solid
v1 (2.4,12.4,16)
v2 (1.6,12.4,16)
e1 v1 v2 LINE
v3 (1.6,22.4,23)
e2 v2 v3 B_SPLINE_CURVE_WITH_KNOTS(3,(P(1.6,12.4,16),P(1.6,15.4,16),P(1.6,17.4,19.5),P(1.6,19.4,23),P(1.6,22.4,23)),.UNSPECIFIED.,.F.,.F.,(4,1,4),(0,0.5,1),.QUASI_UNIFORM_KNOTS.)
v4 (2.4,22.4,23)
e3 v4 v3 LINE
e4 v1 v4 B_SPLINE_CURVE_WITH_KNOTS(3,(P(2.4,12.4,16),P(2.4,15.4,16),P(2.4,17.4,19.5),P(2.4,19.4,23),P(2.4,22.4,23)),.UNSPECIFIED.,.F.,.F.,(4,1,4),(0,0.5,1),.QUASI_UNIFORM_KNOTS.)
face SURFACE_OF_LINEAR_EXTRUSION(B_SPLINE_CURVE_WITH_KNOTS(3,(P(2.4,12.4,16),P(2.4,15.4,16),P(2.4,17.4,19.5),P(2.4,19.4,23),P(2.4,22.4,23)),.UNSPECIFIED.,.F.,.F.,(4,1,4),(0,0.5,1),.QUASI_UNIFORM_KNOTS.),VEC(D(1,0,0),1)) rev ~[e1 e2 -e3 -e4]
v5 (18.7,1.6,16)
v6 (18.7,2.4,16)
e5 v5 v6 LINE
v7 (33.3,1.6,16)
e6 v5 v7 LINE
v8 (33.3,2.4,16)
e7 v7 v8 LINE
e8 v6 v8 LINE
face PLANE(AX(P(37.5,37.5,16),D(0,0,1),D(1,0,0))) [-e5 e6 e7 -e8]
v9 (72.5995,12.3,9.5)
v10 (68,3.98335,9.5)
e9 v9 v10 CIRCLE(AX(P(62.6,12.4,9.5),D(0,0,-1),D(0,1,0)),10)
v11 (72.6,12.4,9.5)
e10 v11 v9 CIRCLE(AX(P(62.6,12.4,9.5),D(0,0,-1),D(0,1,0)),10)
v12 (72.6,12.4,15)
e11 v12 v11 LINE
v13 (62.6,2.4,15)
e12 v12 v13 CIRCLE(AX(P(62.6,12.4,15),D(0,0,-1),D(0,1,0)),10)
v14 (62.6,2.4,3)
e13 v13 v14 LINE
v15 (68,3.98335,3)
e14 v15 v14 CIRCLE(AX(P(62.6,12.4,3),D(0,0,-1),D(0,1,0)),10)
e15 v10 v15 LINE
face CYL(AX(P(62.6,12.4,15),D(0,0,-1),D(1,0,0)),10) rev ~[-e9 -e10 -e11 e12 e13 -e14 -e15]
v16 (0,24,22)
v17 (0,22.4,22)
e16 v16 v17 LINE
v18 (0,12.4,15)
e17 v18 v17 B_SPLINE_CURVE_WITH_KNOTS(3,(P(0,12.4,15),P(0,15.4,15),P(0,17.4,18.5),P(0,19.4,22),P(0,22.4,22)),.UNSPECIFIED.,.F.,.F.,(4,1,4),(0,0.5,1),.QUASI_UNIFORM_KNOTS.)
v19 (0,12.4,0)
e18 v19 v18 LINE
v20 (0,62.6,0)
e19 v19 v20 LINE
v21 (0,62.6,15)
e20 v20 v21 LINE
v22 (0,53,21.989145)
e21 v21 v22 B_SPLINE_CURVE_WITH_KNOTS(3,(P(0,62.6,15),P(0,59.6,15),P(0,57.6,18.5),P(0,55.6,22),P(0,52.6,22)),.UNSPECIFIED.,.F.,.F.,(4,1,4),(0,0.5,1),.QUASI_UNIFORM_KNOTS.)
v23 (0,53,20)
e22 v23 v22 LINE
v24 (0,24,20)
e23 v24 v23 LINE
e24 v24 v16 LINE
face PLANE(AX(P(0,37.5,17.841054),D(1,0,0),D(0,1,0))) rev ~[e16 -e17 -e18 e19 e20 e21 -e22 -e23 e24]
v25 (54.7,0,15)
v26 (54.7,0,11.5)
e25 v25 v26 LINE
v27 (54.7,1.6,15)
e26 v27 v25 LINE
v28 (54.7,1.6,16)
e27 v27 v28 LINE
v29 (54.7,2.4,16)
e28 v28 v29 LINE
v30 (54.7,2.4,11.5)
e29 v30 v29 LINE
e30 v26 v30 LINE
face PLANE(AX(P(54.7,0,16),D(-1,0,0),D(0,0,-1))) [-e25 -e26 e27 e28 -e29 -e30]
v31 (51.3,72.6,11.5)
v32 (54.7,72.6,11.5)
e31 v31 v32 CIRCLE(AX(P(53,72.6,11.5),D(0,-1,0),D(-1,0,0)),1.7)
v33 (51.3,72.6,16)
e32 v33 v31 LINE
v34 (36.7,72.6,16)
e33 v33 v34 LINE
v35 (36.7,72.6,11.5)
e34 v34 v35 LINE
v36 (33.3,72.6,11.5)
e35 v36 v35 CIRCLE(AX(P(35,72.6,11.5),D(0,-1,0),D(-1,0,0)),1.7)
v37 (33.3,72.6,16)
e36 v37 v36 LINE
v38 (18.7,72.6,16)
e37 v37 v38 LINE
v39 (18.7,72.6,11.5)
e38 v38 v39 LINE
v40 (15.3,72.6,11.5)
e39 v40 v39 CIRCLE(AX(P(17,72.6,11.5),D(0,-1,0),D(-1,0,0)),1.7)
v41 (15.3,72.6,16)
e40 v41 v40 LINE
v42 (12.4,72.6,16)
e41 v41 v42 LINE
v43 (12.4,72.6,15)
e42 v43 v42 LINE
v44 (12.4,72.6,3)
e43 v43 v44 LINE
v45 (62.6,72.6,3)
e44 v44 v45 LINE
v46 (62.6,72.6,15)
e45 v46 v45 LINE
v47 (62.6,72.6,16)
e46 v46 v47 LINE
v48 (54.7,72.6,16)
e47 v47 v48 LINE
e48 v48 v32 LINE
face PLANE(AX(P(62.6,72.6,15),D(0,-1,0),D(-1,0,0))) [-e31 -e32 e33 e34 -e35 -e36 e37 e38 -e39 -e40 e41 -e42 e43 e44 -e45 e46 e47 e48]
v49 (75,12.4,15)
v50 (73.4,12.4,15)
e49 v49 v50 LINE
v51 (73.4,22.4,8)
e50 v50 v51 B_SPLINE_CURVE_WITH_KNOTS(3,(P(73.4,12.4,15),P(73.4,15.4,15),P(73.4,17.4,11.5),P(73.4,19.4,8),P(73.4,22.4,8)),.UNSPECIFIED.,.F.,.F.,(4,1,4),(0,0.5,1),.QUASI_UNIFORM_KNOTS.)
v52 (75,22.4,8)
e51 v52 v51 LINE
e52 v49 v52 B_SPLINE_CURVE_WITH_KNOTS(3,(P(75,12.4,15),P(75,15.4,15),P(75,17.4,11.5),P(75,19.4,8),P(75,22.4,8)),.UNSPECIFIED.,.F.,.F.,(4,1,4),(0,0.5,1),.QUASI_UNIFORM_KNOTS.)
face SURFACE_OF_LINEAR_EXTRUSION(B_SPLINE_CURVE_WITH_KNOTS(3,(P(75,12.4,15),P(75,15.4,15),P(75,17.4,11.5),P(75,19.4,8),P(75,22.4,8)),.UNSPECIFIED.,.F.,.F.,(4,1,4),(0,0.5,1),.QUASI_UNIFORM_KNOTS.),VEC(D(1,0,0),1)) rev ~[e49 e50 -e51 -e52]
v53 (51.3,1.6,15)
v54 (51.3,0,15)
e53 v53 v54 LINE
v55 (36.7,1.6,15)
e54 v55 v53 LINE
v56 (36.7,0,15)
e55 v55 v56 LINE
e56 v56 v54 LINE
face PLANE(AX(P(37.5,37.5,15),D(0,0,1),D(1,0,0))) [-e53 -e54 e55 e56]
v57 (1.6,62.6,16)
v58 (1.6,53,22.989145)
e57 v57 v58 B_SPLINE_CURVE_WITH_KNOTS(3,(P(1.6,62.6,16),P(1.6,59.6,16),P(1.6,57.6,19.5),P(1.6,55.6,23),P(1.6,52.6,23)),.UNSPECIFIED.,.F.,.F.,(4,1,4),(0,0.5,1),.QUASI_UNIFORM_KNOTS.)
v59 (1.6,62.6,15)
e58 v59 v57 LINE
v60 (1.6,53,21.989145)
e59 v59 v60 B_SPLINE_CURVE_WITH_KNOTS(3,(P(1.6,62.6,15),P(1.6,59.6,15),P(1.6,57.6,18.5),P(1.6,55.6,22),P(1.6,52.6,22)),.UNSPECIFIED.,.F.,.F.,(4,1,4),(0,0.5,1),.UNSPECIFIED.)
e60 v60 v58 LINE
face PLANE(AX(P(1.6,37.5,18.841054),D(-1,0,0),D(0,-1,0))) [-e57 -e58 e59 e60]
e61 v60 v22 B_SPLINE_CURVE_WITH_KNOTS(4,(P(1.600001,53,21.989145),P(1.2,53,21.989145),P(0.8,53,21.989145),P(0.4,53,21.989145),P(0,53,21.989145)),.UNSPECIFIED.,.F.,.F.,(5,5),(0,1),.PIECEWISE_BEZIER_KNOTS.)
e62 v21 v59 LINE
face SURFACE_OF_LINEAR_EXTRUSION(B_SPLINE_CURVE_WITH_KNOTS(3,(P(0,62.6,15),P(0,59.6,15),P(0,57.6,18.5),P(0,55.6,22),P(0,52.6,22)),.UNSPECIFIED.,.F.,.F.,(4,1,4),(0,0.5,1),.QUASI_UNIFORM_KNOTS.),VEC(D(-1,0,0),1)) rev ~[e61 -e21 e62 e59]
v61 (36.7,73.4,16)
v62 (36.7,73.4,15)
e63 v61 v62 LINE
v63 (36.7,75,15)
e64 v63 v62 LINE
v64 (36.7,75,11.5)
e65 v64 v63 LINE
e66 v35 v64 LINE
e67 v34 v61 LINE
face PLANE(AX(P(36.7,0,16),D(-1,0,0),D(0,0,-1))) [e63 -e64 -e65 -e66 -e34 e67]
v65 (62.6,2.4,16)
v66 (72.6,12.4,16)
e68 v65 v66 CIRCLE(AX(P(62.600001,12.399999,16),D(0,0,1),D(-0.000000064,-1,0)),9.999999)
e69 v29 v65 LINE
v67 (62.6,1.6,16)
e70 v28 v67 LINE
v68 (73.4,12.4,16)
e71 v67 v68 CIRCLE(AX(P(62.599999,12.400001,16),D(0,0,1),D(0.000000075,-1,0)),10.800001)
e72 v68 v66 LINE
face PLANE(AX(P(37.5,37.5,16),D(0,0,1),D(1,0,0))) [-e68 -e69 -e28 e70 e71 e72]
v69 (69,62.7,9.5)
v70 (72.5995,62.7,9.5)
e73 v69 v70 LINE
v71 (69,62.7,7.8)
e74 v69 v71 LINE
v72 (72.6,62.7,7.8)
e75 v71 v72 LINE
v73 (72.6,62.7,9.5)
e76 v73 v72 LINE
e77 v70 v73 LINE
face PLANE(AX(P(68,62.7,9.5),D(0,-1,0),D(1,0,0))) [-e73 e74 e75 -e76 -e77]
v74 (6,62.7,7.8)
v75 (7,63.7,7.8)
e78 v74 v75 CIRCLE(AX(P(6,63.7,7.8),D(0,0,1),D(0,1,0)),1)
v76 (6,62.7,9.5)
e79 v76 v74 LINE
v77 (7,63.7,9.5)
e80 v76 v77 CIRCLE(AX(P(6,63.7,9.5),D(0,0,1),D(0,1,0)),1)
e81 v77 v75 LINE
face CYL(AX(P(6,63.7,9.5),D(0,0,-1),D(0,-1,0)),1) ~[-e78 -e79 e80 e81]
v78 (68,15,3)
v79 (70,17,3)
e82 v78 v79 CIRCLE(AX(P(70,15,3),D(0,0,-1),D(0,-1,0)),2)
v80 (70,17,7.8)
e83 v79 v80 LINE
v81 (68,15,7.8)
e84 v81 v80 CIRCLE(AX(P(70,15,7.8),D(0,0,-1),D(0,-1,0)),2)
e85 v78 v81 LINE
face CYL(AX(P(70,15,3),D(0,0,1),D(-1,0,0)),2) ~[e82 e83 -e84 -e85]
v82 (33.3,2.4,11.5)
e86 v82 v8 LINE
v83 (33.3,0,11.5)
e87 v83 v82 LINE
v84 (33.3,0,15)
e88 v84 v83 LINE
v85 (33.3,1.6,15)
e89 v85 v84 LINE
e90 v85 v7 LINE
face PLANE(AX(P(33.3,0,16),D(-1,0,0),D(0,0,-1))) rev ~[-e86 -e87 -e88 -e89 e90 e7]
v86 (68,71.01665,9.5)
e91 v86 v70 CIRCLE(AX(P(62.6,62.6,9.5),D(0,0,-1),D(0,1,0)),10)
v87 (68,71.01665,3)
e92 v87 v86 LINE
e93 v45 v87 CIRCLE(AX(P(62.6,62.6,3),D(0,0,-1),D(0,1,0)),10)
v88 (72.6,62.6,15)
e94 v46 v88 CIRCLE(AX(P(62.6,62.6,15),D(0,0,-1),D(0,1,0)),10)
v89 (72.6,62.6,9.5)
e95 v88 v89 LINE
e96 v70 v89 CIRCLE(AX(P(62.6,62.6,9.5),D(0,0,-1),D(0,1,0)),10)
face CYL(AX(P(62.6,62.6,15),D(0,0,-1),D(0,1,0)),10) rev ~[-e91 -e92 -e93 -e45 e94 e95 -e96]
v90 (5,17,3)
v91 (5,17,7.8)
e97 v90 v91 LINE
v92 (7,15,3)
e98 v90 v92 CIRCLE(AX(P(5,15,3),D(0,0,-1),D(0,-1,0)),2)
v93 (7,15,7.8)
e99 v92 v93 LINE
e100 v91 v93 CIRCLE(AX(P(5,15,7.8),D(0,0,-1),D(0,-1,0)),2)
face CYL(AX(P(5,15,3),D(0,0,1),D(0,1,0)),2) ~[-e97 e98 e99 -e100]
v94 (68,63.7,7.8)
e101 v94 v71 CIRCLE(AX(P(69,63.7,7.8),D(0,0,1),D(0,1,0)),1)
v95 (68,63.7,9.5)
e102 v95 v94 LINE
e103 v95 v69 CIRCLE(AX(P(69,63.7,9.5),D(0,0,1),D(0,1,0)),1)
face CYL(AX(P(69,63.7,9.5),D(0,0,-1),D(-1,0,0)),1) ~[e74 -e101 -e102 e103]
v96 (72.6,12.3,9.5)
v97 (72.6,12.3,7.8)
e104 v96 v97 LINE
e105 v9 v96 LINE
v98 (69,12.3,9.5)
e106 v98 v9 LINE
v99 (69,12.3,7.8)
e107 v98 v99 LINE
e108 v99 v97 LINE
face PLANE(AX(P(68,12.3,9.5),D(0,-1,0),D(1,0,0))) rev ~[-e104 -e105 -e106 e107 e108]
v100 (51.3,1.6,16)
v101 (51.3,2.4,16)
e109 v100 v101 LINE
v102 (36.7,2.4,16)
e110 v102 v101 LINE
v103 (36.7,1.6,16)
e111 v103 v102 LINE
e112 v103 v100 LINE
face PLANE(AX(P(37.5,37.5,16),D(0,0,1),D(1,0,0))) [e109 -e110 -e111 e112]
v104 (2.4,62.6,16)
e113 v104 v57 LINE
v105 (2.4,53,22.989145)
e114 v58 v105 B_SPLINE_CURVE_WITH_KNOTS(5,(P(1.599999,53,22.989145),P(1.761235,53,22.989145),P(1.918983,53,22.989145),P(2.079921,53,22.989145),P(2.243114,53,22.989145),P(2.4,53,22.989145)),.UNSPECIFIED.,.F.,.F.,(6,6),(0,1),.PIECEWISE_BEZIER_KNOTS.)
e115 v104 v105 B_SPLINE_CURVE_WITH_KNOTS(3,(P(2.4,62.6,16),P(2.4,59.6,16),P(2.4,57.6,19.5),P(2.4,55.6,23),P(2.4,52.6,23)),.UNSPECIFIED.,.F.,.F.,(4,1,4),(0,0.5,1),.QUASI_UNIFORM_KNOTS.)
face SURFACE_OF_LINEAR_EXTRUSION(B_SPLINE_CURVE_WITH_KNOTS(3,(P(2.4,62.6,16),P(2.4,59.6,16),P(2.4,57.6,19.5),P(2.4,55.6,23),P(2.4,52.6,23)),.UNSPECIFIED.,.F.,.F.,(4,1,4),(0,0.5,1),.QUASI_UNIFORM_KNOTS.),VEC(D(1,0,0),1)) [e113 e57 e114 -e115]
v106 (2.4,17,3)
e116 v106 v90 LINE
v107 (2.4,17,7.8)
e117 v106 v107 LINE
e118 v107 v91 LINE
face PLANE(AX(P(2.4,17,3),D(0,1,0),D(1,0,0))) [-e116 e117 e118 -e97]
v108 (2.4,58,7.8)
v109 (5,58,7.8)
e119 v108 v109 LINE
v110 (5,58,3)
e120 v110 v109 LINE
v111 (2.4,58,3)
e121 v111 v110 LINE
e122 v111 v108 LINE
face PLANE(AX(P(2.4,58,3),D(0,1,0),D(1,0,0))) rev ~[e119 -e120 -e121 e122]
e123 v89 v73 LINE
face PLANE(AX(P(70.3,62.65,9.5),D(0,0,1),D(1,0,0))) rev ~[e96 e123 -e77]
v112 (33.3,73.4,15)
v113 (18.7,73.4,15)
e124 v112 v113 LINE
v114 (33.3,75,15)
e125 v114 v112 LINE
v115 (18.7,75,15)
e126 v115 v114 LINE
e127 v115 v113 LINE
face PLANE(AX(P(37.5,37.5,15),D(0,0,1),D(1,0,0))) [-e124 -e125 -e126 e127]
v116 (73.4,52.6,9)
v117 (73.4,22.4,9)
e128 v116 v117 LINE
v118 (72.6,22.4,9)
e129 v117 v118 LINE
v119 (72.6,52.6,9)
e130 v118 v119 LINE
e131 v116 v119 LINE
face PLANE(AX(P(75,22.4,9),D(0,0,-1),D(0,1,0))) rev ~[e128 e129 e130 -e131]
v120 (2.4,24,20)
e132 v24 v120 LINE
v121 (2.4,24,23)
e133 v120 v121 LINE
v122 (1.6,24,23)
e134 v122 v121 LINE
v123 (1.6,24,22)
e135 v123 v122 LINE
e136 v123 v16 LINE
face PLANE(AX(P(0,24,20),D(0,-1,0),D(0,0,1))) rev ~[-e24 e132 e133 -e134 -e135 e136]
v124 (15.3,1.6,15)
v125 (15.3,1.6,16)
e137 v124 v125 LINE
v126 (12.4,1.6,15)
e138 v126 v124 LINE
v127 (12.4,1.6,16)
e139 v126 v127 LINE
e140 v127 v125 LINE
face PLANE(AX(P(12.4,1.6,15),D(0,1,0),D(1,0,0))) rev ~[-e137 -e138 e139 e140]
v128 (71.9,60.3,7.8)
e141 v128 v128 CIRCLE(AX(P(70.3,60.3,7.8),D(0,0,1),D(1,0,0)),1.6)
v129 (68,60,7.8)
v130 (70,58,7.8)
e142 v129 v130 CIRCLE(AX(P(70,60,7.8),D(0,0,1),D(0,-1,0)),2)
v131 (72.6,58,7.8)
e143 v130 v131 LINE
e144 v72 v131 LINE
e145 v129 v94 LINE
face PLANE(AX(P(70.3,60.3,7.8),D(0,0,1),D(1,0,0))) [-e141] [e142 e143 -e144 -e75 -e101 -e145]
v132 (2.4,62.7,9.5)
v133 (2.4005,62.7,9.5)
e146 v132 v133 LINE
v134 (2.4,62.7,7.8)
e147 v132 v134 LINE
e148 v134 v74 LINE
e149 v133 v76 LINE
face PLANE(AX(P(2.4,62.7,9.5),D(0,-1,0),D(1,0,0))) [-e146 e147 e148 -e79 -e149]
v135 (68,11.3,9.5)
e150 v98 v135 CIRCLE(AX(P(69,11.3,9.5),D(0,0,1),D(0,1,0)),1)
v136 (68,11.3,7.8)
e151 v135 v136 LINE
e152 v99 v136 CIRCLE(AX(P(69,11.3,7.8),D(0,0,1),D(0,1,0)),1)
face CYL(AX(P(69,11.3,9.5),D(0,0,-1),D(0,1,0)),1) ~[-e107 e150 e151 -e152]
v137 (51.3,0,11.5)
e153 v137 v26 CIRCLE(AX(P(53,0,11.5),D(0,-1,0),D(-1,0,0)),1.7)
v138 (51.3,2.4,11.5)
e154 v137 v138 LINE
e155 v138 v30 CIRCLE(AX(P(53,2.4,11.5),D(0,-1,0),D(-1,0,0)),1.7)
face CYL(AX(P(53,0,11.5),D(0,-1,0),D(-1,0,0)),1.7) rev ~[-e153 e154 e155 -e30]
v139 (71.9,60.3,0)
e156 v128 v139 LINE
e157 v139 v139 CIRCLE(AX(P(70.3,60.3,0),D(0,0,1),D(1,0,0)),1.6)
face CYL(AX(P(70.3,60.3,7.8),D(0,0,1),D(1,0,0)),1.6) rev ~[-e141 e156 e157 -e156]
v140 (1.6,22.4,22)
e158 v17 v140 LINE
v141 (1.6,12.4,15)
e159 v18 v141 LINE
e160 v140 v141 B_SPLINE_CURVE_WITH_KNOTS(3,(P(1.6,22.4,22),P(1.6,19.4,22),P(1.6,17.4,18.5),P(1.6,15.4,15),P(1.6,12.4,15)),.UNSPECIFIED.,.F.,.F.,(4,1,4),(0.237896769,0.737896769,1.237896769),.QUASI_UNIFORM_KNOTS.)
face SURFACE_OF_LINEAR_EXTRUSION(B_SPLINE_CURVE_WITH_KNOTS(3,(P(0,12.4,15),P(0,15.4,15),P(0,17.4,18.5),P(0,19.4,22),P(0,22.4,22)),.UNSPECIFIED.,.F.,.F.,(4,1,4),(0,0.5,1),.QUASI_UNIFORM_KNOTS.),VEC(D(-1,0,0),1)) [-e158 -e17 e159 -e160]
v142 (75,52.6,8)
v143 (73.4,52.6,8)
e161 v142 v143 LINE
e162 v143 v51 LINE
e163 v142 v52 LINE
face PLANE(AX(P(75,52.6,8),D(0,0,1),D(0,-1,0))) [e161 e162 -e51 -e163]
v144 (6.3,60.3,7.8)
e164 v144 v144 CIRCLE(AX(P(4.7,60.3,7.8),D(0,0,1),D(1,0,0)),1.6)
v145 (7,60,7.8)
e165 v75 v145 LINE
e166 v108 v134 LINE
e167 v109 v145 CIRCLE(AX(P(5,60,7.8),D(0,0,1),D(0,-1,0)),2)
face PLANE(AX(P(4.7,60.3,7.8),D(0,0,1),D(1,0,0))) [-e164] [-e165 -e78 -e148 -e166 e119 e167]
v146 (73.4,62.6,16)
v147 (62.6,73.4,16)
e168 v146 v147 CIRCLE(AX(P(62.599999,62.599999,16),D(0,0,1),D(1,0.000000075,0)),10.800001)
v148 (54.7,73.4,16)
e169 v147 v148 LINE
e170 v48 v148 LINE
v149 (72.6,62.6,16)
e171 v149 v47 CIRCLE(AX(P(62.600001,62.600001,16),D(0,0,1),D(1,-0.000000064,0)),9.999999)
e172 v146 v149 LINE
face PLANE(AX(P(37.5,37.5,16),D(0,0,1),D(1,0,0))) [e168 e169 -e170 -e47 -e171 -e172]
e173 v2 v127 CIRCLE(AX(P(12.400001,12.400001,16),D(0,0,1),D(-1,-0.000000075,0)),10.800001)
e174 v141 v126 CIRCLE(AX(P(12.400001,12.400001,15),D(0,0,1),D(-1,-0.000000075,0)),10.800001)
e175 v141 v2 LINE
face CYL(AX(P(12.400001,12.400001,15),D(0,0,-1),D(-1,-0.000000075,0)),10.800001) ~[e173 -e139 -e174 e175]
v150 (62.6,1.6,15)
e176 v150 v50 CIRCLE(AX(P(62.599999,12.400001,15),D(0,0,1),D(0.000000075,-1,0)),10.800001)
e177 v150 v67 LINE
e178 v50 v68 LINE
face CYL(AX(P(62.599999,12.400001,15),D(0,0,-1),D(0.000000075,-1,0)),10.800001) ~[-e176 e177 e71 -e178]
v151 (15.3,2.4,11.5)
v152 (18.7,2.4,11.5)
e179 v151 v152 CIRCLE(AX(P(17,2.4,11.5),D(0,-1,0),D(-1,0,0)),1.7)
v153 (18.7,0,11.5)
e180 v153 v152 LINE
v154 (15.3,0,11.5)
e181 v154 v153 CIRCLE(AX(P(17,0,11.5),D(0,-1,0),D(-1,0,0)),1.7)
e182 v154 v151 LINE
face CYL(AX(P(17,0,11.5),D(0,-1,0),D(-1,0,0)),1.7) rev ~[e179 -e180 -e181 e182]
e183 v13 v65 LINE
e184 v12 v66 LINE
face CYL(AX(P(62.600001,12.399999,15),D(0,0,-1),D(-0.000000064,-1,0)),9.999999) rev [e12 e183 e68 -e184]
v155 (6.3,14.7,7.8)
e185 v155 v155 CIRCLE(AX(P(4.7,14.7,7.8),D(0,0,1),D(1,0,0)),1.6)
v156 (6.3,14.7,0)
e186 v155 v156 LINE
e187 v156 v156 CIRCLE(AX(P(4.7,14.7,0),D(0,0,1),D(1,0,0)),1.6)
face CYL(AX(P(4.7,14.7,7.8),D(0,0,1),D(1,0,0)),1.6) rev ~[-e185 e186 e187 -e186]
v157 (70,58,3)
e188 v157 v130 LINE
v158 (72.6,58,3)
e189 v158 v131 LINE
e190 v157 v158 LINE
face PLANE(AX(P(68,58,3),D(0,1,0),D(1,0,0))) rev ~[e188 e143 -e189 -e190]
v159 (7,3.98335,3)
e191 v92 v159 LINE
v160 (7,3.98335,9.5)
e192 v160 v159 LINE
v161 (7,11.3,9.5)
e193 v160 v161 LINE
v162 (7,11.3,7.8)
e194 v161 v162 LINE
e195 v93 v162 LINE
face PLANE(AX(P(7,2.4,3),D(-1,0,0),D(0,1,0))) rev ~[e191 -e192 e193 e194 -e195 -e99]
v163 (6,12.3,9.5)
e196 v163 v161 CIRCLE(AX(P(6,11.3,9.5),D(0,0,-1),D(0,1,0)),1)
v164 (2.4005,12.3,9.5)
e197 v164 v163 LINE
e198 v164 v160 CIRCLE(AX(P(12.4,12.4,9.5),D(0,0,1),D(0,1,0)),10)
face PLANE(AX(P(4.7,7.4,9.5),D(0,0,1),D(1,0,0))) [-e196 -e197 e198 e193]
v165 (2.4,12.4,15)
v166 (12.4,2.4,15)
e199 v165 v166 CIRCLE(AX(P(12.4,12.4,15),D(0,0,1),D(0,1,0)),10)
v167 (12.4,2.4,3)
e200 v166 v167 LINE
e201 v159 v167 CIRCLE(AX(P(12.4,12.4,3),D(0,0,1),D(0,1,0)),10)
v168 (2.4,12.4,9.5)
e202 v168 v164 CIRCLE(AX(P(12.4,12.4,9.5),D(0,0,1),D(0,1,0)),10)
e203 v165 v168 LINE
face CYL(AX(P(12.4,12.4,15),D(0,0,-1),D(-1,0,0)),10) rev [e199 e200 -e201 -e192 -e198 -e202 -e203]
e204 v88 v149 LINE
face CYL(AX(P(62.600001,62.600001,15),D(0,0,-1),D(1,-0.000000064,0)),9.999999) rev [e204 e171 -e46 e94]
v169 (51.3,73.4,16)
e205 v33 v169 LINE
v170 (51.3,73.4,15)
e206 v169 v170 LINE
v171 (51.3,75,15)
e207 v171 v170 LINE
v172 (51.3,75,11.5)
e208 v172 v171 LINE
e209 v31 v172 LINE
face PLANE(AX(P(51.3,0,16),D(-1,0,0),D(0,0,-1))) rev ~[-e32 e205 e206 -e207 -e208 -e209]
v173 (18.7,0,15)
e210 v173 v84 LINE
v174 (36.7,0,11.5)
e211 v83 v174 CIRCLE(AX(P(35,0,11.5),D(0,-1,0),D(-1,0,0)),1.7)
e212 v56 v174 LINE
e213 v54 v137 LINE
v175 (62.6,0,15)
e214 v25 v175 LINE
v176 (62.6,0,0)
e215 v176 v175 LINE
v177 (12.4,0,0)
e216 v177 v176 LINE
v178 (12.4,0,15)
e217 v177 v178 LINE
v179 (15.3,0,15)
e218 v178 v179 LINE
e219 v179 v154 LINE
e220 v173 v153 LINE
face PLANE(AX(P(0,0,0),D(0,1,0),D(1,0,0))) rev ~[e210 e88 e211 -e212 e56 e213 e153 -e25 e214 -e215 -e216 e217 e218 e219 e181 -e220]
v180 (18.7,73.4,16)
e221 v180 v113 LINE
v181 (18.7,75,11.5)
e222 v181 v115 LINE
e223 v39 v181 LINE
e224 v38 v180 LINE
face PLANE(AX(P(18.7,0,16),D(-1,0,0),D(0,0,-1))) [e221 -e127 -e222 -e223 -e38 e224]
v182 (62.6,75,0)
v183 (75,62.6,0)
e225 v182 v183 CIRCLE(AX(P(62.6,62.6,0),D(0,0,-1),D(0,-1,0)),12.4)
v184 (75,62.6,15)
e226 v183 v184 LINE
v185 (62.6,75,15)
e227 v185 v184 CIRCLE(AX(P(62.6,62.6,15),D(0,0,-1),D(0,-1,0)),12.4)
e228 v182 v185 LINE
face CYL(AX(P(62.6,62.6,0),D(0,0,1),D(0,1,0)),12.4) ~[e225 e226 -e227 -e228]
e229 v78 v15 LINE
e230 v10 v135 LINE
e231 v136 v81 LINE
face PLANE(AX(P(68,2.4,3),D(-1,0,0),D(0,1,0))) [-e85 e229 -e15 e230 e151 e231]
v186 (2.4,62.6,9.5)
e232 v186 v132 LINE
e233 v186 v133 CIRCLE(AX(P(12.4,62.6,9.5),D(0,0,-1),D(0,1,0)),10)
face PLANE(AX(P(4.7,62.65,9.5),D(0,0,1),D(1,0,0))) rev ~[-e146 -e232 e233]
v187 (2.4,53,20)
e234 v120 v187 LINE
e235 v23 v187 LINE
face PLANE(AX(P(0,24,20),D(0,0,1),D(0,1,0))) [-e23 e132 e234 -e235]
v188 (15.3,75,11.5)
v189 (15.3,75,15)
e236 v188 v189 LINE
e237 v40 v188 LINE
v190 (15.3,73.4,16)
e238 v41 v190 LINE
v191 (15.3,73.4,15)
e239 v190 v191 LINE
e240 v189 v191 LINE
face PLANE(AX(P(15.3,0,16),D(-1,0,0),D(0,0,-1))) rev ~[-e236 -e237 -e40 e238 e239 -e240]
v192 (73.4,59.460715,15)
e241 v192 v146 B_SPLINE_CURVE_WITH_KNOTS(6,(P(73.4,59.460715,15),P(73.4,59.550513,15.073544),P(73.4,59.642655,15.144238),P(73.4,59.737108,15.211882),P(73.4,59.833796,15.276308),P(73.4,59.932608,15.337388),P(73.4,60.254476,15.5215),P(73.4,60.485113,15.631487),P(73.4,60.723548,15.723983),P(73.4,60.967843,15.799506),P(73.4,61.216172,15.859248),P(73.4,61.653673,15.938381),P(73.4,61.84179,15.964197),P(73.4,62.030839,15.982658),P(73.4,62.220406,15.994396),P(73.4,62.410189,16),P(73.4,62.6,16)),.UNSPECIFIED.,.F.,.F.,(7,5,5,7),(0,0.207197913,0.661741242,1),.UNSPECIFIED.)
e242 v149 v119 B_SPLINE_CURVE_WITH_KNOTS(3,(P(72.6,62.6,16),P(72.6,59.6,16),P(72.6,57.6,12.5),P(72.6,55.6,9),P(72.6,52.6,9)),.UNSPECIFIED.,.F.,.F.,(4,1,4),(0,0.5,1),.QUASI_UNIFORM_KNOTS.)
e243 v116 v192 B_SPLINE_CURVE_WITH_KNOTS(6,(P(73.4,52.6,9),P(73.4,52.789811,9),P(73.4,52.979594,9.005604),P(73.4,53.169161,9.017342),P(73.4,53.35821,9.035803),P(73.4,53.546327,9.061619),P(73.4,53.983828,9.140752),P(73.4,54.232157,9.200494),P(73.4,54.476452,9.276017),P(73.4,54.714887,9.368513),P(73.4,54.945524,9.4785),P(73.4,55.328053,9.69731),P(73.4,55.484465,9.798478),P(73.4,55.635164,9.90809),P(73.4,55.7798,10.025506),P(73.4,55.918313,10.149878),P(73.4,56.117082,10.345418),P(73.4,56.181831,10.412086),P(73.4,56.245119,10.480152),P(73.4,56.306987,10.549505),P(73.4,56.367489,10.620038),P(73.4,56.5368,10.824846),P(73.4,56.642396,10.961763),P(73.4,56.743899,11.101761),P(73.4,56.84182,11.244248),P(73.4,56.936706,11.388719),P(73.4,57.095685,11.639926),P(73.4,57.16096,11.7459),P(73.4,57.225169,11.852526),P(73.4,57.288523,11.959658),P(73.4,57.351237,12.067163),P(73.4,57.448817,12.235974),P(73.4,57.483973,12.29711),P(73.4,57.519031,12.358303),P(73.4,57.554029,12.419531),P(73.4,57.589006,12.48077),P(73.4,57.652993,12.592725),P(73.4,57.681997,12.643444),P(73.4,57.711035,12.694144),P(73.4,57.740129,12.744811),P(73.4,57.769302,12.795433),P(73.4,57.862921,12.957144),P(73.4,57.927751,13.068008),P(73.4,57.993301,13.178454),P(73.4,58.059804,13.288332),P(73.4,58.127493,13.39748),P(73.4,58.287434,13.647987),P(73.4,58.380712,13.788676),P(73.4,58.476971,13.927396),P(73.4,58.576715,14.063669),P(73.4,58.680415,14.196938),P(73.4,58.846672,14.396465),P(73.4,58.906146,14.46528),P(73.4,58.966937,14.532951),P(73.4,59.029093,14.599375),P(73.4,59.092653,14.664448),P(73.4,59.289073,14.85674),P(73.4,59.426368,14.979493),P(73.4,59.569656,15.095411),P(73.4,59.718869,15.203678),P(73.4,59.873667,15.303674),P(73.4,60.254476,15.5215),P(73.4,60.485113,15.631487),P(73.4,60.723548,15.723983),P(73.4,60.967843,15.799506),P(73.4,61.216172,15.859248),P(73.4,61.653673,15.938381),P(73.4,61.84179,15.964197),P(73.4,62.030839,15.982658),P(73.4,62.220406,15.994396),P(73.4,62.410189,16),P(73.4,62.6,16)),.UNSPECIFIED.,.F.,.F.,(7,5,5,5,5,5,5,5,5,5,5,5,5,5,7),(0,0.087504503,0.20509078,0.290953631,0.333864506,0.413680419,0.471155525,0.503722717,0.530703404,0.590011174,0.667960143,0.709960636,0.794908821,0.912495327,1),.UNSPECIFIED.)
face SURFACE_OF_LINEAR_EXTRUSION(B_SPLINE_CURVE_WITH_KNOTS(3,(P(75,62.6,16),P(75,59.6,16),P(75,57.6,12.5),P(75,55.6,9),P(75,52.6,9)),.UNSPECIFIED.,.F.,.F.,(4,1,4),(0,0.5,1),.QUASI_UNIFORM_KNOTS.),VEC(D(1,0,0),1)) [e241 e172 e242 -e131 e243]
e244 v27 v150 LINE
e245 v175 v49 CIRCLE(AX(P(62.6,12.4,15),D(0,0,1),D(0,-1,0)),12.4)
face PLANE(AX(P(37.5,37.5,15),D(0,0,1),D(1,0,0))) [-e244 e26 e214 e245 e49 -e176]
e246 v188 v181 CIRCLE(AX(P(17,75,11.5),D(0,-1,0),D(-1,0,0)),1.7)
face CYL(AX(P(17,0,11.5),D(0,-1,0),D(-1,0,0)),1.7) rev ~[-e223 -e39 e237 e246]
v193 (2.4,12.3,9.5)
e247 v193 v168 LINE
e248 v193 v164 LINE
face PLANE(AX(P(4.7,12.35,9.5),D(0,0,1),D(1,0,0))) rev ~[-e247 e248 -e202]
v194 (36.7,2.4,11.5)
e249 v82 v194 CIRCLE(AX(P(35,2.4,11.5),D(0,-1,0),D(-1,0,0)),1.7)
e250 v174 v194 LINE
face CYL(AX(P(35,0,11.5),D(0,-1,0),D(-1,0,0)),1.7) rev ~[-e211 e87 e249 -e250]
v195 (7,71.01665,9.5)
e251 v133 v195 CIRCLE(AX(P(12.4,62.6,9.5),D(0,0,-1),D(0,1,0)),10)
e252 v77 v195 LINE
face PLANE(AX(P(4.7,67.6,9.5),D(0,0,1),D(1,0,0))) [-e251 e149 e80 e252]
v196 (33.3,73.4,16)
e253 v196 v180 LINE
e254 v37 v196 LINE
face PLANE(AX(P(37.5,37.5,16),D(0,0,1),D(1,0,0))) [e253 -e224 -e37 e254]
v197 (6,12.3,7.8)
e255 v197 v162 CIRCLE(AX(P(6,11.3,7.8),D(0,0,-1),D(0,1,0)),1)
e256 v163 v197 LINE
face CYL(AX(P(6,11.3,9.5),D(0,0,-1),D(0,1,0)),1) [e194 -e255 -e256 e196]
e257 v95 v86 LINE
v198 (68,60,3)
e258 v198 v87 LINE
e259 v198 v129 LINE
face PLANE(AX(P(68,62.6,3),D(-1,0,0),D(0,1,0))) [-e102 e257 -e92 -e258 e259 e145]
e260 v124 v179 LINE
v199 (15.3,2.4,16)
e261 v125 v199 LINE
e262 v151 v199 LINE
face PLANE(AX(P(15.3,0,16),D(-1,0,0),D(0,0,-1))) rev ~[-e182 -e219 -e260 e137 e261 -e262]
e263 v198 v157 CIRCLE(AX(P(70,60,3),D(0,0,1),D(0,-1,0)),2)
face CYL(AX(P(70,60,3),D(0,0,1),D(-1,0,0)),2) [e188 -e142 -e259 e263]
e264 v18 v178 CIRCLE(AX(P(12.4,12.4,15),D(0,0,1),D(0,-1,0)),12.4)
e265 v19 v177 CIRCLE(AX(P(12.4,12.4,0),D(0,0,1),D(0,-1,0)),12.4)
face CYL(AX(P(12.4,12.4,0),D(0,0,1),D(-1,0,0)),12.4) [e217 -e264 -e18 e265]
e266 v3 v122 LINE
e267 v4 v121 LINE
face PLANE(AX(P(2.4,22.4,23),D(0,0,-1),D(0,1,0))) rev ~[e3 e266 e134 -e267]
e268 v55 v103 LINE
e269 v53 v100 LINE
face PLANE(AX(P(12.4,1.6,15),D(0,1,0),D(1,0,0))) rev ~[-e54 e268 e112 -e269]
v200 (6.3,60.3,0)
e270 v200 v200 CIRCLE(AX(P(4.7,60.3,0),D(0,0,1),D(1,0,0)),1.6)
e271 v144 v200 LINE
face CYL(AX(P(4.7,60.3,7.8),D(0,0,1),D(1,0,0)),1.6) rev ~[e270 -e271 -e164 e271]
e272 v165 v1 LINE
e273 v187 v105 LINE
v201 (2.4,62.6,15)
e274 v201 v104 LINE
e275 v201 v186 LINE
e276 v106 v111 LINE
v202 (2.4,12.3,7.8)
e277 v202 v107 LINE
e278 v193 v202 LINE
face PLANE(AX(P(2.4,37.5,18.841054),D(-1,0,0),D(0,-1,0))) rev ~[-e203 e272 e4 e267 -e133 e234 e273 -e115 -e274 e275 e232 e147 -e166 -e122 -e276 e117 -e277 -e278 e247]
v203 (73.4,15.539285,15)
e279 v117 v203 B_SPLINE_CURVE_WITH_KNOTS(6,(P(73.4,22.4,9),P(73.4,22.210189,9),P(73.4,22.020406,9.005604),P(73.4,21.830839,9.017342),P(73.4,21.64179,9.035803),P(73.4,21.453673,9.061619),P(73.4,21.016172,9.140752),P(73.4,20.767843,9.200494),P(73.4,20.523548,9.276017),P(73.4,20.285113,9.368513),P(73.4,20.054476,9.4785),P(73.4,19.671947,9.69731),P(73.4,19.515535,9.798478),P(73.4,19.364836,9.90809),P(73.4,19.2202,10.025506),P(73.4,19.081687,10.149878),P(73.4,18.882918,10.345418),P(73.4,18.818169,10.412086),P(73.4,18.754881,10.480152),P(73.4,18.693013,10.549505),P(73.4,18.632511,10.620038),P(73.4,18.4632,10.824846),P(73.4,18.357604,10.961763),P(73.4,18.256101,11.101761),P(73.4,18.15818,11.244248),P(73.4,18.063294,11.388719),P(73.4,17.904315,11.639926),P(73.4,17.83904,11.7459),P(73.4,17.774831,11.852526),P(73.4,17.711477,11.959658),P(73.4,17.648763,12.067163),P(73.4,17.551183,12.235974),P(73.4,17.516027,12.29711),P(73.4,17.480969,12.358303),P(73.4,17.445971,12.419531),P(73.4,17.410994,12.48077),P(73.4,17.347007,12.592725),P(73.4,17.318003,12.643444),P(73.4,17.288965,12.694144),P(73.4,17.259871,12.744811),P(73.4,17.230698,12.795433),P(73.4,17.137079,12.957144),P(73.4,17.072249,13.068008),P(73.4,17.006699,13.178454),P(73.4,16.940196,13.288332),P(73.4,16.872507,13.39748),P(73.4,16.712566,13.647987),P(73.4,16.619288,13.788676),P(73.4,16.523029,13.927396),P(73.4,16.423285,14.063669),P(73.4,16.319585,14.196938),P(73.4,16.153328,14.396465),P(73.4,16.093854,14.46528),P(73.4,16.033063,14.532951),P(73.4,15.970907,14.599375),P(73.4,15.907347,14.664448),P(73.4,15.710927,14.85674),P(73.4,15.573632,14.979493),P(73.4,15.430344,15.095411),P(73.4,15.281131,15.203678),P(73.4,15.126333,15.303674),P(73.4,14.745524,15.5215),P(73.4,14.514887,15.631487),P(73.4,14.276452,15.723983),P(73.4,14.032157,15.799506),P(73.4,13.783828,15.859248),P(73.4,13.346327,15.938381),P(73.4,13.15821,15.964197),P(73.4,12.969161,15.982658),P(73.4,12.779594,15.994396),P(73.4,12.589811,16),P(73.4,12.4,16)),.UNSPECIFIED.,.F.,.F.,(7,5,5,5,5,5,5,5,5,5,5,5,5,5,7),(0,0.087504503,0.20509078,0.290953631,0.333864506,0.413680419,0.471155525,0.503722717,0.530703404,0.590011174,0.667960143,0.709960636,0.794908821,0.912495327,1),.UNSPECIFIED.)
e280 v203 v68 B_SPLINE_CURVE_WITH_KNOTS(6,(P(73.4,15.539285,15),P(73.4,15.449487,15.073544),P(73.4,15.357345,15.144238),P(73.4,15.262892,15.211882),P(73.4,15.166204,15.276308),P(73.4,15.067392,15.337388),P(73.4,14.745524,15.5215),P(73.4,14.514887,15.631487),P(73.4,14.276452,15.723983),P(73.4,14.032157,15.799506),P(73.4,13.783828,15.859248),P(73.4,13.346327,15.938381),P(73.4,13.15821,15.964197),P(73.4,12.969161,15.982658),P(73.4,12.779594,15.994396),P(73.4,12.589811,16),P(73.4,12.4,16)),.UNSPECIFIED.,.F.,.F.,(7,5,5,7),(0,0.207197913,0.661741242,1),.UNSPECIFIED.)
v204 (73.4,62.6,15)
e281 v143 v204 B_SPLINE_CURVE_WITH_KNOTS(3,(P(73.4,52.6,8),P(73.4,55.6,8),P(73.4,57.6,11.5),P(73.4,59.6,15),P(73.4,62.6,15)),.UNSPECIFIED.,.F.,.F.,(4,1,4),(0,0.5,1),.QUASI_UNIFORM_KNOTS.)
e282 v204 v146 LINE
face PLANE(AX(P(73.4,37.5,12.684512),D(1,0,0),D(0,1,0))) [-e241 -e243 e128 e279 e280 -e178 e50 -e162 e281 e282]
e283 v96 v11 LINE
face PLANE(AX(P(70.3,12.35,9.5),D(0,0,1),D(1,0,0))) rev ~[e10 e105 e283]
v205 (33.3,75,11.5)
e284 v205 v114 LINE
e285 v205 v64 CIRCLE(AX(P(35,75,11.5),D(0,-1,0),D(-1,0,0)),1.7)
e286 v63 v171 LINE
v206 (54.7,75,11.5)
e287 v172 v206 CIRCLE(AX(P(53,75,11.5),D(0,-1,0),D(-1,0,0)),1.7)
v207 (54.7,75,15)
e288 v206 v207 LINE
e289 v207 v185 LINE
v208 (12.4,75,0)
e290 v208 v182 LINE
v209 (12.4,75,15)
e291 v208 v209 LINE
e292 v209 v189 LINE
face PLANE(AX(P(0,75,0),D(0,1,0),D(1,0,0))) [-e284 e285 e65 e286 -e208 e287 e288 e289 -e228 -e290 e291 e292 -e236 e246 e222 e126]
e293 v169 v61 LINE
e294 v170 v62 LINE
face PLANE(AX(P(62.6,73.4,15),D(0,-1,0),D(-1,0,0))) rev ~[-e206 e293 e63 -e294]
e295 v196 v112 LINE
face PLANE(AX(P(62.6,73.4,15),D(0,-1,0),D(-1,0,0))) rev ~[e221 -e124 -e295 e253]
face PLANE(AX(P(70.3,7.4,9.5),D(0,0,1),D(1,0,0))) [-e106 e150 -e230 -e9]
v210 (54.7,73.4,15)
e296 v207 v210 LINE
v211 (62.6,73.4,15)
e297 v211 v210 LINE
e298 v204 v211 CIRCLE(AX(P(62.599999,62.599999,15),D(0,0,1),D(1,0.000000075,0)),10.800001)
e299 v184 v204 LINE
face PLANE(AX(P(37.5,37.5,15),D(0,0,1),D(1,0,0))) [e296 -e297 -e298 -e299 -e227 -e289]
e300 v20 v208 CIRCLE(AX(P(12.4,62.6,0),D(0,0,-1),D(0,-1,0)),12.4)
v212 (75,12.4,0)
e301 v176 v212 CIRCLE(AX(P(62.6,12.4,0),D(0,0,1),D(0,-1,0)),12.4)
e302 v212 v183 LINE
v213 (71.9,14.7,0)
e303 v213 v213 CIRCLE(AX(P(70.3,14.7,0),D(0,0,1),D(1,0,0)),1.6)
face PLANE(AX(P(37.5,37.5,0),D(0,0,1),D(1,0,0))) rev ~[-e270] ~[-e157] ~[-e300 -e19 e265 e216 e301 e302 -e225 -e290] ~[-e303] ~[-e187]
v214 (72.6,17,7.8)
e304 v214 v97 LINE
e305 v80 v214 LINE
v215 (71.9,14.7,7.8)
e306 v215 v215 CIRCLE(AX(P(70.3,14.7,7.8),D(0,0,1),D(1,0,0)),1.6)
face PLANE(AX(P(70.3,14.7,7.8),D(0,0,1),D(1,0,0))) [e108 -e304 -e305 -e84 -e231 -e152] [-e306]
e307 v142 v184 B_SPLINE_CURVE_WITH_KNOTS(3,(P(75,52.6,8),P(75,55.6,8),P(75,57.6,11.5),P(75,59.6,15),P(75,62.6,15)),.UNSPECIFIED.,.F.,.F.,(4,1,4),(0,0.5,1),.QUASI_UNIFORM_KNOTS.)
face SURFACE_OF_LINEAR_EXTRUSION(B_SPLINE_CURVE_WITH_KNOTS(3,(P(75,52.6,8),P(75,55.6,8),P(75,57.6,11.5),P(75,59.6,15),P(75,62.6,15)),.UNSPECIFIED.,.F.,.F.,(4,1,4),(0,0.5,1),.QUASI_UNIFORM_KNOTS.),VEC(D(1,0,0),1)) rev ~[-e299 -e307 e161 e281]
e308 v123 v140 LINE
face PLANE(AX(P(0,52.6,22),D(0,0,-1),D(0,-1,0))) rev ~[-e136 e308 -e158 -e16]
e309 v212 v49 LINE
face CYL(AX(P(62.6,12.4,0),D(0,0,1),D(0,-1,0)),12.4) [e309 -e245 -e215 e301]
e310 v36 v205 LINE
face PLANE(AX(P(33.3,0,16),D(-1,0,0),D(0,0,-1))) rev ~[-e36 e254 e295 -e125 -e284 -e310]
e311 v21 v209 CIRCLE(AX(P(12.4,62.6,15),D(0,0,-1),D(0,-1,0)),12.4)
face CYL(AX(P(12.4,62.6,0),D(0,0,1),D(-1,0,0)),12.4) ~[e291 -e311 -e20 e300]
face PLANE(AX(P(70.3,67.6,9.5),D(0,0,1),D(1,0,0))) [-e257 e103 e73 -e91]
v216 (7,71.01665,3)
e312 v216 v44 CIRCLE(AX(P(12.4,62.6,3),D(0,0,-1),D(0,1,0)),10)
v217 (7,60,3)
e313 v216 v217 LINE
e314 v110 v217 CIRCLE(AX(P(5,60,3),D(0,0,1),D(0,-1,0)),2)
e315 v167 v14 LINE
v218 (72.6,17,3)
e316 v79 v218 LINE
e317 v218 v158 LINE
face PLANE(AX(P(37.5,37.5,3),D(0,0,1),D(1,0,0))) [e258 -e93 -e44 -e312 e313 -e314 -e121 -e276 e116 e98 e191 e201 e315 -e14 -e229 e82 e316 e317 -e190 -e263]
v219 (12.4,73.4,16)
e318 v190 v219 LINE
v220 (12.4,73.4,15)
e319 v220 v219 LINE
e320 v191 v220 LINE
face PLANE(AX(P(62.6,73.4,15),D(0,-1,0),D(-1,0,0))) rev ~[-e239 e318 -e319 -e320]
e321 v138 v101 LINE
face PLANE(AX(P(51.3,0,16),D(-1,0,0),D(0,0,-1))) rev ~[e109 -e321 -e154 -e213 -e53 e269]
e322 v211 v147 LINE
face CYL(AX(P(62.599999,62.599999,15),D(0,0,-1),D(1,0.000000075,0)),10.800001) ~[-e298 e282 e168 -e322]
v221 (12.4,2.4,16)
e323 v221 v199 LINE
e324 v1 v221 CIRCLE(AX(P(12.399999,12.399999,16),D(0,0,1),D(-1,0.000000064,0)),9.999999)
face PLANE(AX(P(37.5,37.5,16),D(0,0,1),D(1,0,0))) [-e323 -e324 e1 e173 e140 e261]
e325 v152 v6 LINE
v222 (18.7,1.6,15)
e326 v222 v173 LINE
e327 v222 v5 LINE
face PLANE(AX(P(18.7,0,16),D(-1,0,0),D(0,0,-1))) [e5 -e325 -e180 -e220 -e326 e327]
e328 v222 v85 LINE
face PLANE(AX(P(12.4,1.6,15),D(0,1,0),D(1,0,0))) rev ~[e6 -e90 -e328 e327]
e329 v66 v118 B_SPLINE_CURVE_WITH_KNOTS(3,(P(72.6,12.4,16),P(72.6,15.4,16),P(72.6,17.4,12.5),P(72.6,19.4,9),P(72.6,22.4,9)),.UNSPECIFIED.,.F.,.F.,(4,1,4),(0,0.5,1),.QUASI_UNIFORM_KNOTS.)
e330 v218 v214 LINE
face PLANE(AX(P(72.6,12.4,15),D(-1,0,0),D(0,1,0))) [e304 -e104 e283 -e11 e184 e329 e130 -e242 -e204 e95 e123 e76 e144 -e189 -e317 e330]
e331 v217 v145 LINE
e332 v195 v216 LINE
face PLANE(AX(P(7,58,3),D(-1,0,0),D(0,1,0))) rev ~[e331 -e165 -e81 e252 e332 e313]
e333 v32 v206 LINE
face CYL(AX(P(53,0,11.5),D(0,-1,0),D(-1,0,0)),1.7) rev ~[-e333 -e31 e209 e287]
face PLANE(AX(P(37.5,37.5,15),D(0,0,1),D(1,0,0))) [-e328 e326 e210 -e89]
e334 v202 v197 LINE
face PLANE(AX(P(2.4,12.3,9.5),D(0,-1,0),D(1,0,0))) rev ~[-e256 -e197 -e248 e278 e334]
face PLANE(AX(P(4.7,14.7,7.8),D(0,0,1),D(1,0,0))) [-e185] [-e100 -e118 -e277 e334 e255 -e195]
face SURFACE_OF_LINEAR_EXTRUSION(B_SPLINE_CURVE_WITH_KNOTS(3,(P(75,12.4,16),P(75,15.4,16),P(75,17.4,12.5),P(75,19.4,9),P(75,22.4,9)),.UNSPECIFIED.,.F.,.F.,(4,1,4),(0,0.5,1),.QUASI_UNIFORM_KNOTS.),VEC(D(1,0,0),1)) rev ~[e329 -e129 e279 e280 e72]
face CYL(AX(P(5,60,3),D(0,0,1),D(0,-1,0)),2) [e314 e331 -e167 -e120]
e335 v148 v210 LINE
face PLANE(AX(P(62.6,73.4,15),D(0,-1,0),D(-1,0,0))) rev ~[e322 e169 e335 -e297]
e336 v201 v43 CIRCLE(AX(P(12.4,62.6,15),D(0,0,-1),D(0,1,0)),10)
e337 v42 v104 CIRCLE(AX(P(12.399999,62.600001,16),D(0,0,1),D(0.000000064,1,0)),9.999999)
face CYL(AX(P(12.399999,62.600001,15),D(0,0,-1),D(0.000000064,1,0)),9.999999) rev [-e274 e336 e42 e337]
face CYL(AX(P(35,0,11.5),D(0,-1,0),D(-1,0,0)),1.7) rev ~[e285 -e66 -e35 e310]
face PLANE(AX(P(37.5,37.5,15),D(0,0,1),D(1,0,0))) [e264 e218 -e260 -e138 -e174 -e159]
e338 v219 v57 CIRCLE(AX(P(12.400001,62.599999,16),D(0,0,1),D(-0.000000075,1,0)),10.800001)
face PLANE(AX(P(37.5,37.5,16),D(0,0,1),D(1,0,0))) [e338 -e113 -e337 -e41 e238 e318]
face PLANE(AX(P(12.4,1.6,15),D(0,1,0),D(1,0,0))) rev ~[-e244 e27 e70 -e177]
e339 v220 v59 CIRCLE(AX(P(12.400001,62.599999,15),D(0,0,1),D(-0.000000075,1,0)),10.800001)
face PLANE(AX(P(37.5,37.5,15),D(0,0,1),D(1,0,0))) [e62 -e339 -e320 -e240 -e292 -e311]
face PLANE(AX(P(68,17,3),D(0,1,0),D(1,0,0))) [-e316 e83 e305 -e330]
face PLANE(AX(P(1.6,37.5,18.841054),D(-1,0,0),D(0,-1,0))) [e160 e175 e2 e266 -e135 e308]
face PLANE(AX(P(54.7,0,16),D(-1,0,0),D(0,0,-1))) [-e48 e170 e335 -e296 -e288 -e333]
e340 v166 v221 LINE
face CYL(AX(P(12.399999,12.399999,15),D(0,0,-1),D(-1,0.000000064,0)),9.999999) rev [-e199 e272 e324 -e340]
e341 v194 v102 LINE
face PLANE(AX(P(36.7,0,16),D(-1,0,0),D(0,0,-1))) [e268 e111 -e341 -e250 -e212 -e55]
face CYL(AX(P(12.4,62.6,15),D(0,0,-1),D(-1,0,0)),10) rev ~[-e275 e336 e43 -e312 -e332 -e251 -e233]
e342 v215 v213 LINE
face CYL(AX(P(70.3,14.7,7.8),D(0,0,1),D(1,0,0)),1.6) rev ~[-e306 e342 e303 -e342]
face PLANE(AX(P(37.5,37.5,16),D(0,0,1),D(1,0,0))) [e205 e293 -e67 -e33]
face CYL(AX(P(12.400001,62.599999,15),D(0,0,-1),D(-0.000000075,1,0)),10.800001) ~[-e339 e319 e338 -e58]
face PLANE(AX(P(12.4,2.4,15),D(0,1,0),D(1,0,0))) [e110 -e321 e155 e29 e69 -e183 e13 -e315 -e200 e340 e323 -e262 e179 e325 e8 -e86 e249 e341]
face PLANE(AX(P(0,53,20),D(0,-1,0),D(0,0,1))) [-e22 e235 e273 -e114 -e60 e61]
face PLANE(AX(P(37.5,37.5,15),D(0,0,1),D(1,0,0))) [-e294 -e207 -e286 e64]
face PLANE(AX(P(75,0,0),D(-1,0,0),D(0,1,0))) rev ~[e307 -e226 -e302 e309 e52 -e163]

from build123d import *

# Parameters (mm, degrees)
SKETCH_W        = 75
SKETCH_H        = 75
PAD_DEPTH       = 15
SKETCH001_W     = 70.2
SKETCH001_H     = 70.2
POCKET_DEPTH    = 12
SKETCH002_W     = 4.6
SKETCH002_H     = 4.6
PAD001_DEPTH    = 4.8
SKETCH003_R     = 1.6
POCKET001_DEPTH = 7.801
SKETCH004_W     = 4.6
SKETCH004_H     = 10
PAD002_DEPTH    = 6.5
FILLET_R        = 10
FILLET001_R     = 12.4
PAD003_DEPTH    = 1
POCKET002_DEPTH = 75.001
PAD004_DEPTH    = 1.6
FILLET002_R     = 2
SKETCH008_W     = 4.6
SKETCH008_H     = 0.1
POCKET003_DEPTH = 1.7
FILLET003_R     = 1
POCKET004_DEPTH = 2.4
POCKET005_DEPTH = 1.6
PAD005_DEPTH    = 0.8
SKETCH012_W     = 29
SKETCH012_H     = 3
POCKET006_DEPTH = 2.4


with BuildPart() as part:
    # Sketch → Pad (new body)
    with BuildSketch(Plane.XY):
        with Locations((37.5, 37.5)):
            Rectangle(SKETCH_W, SKETCH_H)
    extrude(amount=PAD_DEPTH)

    # Sketch001 (on Face6 of Pad) → Pocket (cut)
    with BuildSketch(Plane.XY.offset(15)):
        with Locations((37.5, 37.5)):
            Rectangle(SKETCH001_W, SKETCH001_H)
    extrude(amount=-POCKET_DEPTH, mode=Mode.SUBTRACT)

    # Sketch002 (on Face11 of Pocket) → Pad001 (join)
    with BuildSketch(Plane.XY.offset(3)):
        with Locations((4.7, 60.3)):
            Rectangle(SKETCH002_W, SKETCH002_H)
        with Locations((70.3, 60.3)):
            Rectangle(SKETCH002_W, SKETCH002_H)
        with Locations((70.3, 14.7)):
            Rectangle(SKETCH002_W, SKETCH002_H)
        with Locations((4.7, 14.7)):
            Rectangle(SKETCH002_W, SKETCH002_H)
    extrude(amount=PAD001_DEPTH)

    # Sketch003 (on Face16 of Pad001) → Pocket001 (cut, through all)
    with BuildSketch(Plane.XY.offset(7.8)):
        with Locations((4.7, 60.3)):
            Circle(SKETCH003_R)
        with Locations((4.7, 14.7)):
            Circle(SKETCH003_R)
        with Locations((70.3, 14.7)):
            Circle(SKETCH003_R)
        with Locations((70.3, 60.3)):
            Circle(SKETCH003_R)
    extrude(amount=-POCKET001_DEPTH, mode=Mode.SUBTRACT)

    # Sketch004 (on Face19 of Pocket001) → Pad002 (join)
    with BuildSketch(Plane.XY.offset(3)):
        with Locations((70.3, 7.4)):
            Rectangle(SKETCH004_W, SKETCH004_H)
        with Locations((70.3, 67.6)):
            Rectangle(SKETCH004_W, SKETCH004_H)
        with Locations((4.7, 67.6)):
            Rectangle(SKETCH004_W, SKETCH004_H)
        with Locations((4.7, 7.4)):
            Rectangle(SKETCH004_W, SKETCH004_H)
    extrude(amount=PAD002_DEPTH)

    # Fillet
    fillet_edges = [part.edges().sort_by_distance(p)[0] for p in [
        (2.4, 72.6, 12.25),
        (72.6, 72.6, 12.25),
        (72.6, 2.4, 12.25),
        (2.4, 2.4, 12.25),
    ]]
    fillet(fillet_edges, radius=FILLET_R)

    # Fillet001
    fillet001_edges = [part.edges().sort_by_distance(p)[0] for p in [
        (75, 0, 7.5),
        (0, 75, 7.5),
        (0, 0, 7.5),
        (75, 75, 7.5),
    ]]
    fillet(fillet001_edges, radius=FILLET001_R)

    # Sketch005 (on Face1 of Fillet001) → Pad003 (join)
    with BuildSketch(Plane.XY.offset(15)):
        with BuildLine():
            Line((1.6, 62.6), (1.6, 12.4))
            ThreePointArc((1.6, 12.4), (4.763247, 4.763247), (12.4, 1.6))
            Line((12.4, 1.6), (62.6, 1.6))
            ThreePointArc((62.6, 1.6), (70.236753, 4.763247), (73.4, 12.4))
            Line((73.4, 12.4), (73.4, 62.6))
            ThreePointArc((73.4, 62.6), (70.236753, 70.236753), (62.6, 73.4))
            Line((62.6, 73.4), (12.4, 73.4))
            ThreePointArc((12.4, 73.4), (4.763247, 70.236753), (1.6, 62.6))
        make_face()
        with BuildLine():
            Line((2.4, 62.6), (2.4, 12.4))
            ThreePointArc((2.4, 12.4), (5.328932, 5.328932), (12.4, 2.4))
            Line((12.4, 2.4), (62.6, 2.4))
            ThreePointArc((62.6, 2.4), (69.671068, 5.328932), (72.6, 12.4))
            Line((72.6, 12.4), (72.6, 62.6))
            ThreePointArc((72.6, 62.6), (69.671068, 69.671068), (62.6, 72.6))
            Line((62.6, 72.6), (12.4, 72.6))
            ThreePointArc((12.4, 72.6), (5.328932, 69.671068), (2.4, 62.6))
        make_face(mode=Mode.SUBTRACT)
    extrude(amount=PAD003_DEPTH)

    # Sketch006 → Pocket002 (cut, through all)
    with BuildSketch(Plane.XZ):
        with BuildLine():
            ThreePointArc((18.7, 16), (17, 17.7), (15.3, 16))
            Line((15.3, 16), (15.3, 11.5))
            ThreePointArc((15.3, 11.5), (17, 9.8), (18.7, 11.5))
            Line((18.7, 16), (18.7, 11.5))
        make_face()
        with BuildLine():
            ThreePointArc((36.7, 16), (35, 17.7), (33.3, 16))
            Line((33.3, 16), (33.3, 11.5))
            ThreePointArc((33.3, 11.5), (35, 9.8), (36.7, 11.5))
            Line((36.7, 16), (36.7, 11.5))
        make_face()
        with BuildLine():
            ThreePointArc((54.7, 16), (53, 17.7), (51.3, 16))
            Line((51.3, 16), (51.3, 11.5))
            ThreePointArc((51.3, 11.5), (53, 9.8), (54.7, 11.5))
            Line((54.7, 16), (54.7, 11.5))
        make_face()
    extrude(amount=-POCKET002_DEPTH, mode=Mode.SUBTRACT)

    # Sketch007 → Pad004 (join)
    with BuildSketch(Plane.YZ):
        with BuildLine():
            add(Edge.make_bspline(
                [(62.6, 15), (59.6, 15), (57.6, 18.5), (55.6, 22), (52.6, 22)],
                knots=[0, 0, 0, 0, 0.5, 1, 1, 1, 1], degree=3))
            Line((52.6, 22), (22.4, 22))
            add(Edge.make_bspline(
                [(12.4, 15), (15.4, 15), (17.4, 18.5), (19.4, 22), (22.4, 22)],
                knots=[0, 0, 0, 0, 0.5, 1, 1, 1, 1], degree=3))
            Line((12.4, 15), (62.6, 15))
        make_face()
    extrude(amount=PAD004_DEPTH)

    # Fillet002
    fillet002_edges = [part.edges().sort_by_distance(p)[0] for p in [
        (7, 58, 5.4),
        (68, 58, 5.4),
        (68, 17, 5.4),
        (7, 17, 5.4),
    ]]
    fillet(fillet002_edges, radius=FILLET002_R)

    # Sketch008 (on Face40 of Fillet002) → Pocket003 (cut)
    with BuildSketch(Plane.XY.offset(9.5)):
        with Locations((4.7, 62.65)):
            Rectangle(SKETCH008_W, SKETCH008_H)
        with Locations((70.3, 62.65)):
            Rectangle(SKETCH008_W, SKETCH008_H)
        with Locations((70.3, 12.35)):
            Rectangle(SKETCH008_W, SKETCH008_H)
        with Locations((4.7, 12.35)):
            Rectangle(SKETCH008_W, SKETCH008_H)
    extrude(amount=-POCKET003_DEPTH, mode=Mode.SUBTRACT)

    # Fillet003
    fillet003_edges = [part.edges().sort_by_distance(p)[0] for p in [
        (68, 62.7, 8.65),
        (68, 12.3, 8.65),
        (7, 12.3, 8.65),
        (7, 62.7, 8.65),
    ]]
    fillet(fillet003_edges, radius=FILLET003_R)

    # Sketch009 (on Face92 of Fillet003) → Pocket004 (cut)
    with BuildSketch(Plane.YZ.offset(75)):
        with BuildLine():
            add(Edge.make_bspline(
                [(12.4, 16), (15.4, 16), (17.4, 12.5), (19.4, 9), (22.4, 9)],
                knots=[0, 0, 0, 0, 0.5, 1, 1, 1, 1], degree=3))
            Line((22.4, 9), (52.6, 9))
            add(Edge.make_bspline(
                [(62.6, 16), (59.6, 16), (57.6, 12.5), (55.6, 9), (52.6, 9)],
                knots=[0, 0, 0, 0, 0.5, 1, 1, 1, 1], degree=3))
            Line((62.6, 16), (12.4, 16))
        make_face()
    extrude(amount=-POCKET004_DEPTH, mode=Mode.SUBTRACT)

    # Sketch010 (on Face90 of Pocket004) → Pocket005 (cut)
    with BuildSketch(Plane.YZ.offset(75)):
        with BuildLine():
            add(Edge.make_bspline(
                [(12.4, 15), (15.4, 15), (17.4, 11.5), (19.4, 8), (22.4, 8)],
                knots=[0, 0, 0, 0, 0.5, 1, 1, 1, 1], degree=3))
            Line((12.4, 15), (12.4, 16))
            Line((12.4, 16), (62.6, 16))
            Line((62.6, 16), (62.6, 15))
            add(Edge.make_bspline(
                [(52.6, 8), (55.6, 8), (57.6, 11.5), (59.6, 15), (62.6, 15)],
                knots=[0, 0, 0, 0, 0.5, 1, 1, 1, 1], degree=3))
            Line((52.6, 8), (22.4, 8))
        make_face()
    extrude(amount=-POCKET005_DEPTH, mode=Mode.SUBTRACT)

    # Sketch011 (on Face23 of Pocket005) → Pad005 (join)
    with BuildSketch(Plane.YZ.offset(2.4)):
        with BuildLine():
            Line((62.6, 16), (12.4, 16))
            add(Edge.make_bspline(
                [(12.4, 16), (15.4, 16), (17.4, 19.5), (19.4, 23), (22.4, 23)],
                knots=[0, 0, 0, 0, 0.5, 1, 1, 1, 1], degree=3))
            Line((22.4, 23), (52.6, 23))
            add(Edge.make_bspline(
                [(62.6, 16), (59.6, 16), (57.6, 19.5), (55.6, 23), (52.6, 23)],
                knots=[0, 0, 0, 0, 0.5, 1, 1, 1, 1], degree=3))
        make_face()
    extrude(amount=-PAD005_DEPTH)

    # Sketch012 → Pocket006 (cut)
    with BuildSketch(Plane.YZ):
        with Locations((38.5, 21.5)):
            Rectangle(SKETCH012_W, SKETCH012_H)
    extrude(amount=POCKET006_DEPTH, mode=Mode.SUBTRACT)


solid = part.part
